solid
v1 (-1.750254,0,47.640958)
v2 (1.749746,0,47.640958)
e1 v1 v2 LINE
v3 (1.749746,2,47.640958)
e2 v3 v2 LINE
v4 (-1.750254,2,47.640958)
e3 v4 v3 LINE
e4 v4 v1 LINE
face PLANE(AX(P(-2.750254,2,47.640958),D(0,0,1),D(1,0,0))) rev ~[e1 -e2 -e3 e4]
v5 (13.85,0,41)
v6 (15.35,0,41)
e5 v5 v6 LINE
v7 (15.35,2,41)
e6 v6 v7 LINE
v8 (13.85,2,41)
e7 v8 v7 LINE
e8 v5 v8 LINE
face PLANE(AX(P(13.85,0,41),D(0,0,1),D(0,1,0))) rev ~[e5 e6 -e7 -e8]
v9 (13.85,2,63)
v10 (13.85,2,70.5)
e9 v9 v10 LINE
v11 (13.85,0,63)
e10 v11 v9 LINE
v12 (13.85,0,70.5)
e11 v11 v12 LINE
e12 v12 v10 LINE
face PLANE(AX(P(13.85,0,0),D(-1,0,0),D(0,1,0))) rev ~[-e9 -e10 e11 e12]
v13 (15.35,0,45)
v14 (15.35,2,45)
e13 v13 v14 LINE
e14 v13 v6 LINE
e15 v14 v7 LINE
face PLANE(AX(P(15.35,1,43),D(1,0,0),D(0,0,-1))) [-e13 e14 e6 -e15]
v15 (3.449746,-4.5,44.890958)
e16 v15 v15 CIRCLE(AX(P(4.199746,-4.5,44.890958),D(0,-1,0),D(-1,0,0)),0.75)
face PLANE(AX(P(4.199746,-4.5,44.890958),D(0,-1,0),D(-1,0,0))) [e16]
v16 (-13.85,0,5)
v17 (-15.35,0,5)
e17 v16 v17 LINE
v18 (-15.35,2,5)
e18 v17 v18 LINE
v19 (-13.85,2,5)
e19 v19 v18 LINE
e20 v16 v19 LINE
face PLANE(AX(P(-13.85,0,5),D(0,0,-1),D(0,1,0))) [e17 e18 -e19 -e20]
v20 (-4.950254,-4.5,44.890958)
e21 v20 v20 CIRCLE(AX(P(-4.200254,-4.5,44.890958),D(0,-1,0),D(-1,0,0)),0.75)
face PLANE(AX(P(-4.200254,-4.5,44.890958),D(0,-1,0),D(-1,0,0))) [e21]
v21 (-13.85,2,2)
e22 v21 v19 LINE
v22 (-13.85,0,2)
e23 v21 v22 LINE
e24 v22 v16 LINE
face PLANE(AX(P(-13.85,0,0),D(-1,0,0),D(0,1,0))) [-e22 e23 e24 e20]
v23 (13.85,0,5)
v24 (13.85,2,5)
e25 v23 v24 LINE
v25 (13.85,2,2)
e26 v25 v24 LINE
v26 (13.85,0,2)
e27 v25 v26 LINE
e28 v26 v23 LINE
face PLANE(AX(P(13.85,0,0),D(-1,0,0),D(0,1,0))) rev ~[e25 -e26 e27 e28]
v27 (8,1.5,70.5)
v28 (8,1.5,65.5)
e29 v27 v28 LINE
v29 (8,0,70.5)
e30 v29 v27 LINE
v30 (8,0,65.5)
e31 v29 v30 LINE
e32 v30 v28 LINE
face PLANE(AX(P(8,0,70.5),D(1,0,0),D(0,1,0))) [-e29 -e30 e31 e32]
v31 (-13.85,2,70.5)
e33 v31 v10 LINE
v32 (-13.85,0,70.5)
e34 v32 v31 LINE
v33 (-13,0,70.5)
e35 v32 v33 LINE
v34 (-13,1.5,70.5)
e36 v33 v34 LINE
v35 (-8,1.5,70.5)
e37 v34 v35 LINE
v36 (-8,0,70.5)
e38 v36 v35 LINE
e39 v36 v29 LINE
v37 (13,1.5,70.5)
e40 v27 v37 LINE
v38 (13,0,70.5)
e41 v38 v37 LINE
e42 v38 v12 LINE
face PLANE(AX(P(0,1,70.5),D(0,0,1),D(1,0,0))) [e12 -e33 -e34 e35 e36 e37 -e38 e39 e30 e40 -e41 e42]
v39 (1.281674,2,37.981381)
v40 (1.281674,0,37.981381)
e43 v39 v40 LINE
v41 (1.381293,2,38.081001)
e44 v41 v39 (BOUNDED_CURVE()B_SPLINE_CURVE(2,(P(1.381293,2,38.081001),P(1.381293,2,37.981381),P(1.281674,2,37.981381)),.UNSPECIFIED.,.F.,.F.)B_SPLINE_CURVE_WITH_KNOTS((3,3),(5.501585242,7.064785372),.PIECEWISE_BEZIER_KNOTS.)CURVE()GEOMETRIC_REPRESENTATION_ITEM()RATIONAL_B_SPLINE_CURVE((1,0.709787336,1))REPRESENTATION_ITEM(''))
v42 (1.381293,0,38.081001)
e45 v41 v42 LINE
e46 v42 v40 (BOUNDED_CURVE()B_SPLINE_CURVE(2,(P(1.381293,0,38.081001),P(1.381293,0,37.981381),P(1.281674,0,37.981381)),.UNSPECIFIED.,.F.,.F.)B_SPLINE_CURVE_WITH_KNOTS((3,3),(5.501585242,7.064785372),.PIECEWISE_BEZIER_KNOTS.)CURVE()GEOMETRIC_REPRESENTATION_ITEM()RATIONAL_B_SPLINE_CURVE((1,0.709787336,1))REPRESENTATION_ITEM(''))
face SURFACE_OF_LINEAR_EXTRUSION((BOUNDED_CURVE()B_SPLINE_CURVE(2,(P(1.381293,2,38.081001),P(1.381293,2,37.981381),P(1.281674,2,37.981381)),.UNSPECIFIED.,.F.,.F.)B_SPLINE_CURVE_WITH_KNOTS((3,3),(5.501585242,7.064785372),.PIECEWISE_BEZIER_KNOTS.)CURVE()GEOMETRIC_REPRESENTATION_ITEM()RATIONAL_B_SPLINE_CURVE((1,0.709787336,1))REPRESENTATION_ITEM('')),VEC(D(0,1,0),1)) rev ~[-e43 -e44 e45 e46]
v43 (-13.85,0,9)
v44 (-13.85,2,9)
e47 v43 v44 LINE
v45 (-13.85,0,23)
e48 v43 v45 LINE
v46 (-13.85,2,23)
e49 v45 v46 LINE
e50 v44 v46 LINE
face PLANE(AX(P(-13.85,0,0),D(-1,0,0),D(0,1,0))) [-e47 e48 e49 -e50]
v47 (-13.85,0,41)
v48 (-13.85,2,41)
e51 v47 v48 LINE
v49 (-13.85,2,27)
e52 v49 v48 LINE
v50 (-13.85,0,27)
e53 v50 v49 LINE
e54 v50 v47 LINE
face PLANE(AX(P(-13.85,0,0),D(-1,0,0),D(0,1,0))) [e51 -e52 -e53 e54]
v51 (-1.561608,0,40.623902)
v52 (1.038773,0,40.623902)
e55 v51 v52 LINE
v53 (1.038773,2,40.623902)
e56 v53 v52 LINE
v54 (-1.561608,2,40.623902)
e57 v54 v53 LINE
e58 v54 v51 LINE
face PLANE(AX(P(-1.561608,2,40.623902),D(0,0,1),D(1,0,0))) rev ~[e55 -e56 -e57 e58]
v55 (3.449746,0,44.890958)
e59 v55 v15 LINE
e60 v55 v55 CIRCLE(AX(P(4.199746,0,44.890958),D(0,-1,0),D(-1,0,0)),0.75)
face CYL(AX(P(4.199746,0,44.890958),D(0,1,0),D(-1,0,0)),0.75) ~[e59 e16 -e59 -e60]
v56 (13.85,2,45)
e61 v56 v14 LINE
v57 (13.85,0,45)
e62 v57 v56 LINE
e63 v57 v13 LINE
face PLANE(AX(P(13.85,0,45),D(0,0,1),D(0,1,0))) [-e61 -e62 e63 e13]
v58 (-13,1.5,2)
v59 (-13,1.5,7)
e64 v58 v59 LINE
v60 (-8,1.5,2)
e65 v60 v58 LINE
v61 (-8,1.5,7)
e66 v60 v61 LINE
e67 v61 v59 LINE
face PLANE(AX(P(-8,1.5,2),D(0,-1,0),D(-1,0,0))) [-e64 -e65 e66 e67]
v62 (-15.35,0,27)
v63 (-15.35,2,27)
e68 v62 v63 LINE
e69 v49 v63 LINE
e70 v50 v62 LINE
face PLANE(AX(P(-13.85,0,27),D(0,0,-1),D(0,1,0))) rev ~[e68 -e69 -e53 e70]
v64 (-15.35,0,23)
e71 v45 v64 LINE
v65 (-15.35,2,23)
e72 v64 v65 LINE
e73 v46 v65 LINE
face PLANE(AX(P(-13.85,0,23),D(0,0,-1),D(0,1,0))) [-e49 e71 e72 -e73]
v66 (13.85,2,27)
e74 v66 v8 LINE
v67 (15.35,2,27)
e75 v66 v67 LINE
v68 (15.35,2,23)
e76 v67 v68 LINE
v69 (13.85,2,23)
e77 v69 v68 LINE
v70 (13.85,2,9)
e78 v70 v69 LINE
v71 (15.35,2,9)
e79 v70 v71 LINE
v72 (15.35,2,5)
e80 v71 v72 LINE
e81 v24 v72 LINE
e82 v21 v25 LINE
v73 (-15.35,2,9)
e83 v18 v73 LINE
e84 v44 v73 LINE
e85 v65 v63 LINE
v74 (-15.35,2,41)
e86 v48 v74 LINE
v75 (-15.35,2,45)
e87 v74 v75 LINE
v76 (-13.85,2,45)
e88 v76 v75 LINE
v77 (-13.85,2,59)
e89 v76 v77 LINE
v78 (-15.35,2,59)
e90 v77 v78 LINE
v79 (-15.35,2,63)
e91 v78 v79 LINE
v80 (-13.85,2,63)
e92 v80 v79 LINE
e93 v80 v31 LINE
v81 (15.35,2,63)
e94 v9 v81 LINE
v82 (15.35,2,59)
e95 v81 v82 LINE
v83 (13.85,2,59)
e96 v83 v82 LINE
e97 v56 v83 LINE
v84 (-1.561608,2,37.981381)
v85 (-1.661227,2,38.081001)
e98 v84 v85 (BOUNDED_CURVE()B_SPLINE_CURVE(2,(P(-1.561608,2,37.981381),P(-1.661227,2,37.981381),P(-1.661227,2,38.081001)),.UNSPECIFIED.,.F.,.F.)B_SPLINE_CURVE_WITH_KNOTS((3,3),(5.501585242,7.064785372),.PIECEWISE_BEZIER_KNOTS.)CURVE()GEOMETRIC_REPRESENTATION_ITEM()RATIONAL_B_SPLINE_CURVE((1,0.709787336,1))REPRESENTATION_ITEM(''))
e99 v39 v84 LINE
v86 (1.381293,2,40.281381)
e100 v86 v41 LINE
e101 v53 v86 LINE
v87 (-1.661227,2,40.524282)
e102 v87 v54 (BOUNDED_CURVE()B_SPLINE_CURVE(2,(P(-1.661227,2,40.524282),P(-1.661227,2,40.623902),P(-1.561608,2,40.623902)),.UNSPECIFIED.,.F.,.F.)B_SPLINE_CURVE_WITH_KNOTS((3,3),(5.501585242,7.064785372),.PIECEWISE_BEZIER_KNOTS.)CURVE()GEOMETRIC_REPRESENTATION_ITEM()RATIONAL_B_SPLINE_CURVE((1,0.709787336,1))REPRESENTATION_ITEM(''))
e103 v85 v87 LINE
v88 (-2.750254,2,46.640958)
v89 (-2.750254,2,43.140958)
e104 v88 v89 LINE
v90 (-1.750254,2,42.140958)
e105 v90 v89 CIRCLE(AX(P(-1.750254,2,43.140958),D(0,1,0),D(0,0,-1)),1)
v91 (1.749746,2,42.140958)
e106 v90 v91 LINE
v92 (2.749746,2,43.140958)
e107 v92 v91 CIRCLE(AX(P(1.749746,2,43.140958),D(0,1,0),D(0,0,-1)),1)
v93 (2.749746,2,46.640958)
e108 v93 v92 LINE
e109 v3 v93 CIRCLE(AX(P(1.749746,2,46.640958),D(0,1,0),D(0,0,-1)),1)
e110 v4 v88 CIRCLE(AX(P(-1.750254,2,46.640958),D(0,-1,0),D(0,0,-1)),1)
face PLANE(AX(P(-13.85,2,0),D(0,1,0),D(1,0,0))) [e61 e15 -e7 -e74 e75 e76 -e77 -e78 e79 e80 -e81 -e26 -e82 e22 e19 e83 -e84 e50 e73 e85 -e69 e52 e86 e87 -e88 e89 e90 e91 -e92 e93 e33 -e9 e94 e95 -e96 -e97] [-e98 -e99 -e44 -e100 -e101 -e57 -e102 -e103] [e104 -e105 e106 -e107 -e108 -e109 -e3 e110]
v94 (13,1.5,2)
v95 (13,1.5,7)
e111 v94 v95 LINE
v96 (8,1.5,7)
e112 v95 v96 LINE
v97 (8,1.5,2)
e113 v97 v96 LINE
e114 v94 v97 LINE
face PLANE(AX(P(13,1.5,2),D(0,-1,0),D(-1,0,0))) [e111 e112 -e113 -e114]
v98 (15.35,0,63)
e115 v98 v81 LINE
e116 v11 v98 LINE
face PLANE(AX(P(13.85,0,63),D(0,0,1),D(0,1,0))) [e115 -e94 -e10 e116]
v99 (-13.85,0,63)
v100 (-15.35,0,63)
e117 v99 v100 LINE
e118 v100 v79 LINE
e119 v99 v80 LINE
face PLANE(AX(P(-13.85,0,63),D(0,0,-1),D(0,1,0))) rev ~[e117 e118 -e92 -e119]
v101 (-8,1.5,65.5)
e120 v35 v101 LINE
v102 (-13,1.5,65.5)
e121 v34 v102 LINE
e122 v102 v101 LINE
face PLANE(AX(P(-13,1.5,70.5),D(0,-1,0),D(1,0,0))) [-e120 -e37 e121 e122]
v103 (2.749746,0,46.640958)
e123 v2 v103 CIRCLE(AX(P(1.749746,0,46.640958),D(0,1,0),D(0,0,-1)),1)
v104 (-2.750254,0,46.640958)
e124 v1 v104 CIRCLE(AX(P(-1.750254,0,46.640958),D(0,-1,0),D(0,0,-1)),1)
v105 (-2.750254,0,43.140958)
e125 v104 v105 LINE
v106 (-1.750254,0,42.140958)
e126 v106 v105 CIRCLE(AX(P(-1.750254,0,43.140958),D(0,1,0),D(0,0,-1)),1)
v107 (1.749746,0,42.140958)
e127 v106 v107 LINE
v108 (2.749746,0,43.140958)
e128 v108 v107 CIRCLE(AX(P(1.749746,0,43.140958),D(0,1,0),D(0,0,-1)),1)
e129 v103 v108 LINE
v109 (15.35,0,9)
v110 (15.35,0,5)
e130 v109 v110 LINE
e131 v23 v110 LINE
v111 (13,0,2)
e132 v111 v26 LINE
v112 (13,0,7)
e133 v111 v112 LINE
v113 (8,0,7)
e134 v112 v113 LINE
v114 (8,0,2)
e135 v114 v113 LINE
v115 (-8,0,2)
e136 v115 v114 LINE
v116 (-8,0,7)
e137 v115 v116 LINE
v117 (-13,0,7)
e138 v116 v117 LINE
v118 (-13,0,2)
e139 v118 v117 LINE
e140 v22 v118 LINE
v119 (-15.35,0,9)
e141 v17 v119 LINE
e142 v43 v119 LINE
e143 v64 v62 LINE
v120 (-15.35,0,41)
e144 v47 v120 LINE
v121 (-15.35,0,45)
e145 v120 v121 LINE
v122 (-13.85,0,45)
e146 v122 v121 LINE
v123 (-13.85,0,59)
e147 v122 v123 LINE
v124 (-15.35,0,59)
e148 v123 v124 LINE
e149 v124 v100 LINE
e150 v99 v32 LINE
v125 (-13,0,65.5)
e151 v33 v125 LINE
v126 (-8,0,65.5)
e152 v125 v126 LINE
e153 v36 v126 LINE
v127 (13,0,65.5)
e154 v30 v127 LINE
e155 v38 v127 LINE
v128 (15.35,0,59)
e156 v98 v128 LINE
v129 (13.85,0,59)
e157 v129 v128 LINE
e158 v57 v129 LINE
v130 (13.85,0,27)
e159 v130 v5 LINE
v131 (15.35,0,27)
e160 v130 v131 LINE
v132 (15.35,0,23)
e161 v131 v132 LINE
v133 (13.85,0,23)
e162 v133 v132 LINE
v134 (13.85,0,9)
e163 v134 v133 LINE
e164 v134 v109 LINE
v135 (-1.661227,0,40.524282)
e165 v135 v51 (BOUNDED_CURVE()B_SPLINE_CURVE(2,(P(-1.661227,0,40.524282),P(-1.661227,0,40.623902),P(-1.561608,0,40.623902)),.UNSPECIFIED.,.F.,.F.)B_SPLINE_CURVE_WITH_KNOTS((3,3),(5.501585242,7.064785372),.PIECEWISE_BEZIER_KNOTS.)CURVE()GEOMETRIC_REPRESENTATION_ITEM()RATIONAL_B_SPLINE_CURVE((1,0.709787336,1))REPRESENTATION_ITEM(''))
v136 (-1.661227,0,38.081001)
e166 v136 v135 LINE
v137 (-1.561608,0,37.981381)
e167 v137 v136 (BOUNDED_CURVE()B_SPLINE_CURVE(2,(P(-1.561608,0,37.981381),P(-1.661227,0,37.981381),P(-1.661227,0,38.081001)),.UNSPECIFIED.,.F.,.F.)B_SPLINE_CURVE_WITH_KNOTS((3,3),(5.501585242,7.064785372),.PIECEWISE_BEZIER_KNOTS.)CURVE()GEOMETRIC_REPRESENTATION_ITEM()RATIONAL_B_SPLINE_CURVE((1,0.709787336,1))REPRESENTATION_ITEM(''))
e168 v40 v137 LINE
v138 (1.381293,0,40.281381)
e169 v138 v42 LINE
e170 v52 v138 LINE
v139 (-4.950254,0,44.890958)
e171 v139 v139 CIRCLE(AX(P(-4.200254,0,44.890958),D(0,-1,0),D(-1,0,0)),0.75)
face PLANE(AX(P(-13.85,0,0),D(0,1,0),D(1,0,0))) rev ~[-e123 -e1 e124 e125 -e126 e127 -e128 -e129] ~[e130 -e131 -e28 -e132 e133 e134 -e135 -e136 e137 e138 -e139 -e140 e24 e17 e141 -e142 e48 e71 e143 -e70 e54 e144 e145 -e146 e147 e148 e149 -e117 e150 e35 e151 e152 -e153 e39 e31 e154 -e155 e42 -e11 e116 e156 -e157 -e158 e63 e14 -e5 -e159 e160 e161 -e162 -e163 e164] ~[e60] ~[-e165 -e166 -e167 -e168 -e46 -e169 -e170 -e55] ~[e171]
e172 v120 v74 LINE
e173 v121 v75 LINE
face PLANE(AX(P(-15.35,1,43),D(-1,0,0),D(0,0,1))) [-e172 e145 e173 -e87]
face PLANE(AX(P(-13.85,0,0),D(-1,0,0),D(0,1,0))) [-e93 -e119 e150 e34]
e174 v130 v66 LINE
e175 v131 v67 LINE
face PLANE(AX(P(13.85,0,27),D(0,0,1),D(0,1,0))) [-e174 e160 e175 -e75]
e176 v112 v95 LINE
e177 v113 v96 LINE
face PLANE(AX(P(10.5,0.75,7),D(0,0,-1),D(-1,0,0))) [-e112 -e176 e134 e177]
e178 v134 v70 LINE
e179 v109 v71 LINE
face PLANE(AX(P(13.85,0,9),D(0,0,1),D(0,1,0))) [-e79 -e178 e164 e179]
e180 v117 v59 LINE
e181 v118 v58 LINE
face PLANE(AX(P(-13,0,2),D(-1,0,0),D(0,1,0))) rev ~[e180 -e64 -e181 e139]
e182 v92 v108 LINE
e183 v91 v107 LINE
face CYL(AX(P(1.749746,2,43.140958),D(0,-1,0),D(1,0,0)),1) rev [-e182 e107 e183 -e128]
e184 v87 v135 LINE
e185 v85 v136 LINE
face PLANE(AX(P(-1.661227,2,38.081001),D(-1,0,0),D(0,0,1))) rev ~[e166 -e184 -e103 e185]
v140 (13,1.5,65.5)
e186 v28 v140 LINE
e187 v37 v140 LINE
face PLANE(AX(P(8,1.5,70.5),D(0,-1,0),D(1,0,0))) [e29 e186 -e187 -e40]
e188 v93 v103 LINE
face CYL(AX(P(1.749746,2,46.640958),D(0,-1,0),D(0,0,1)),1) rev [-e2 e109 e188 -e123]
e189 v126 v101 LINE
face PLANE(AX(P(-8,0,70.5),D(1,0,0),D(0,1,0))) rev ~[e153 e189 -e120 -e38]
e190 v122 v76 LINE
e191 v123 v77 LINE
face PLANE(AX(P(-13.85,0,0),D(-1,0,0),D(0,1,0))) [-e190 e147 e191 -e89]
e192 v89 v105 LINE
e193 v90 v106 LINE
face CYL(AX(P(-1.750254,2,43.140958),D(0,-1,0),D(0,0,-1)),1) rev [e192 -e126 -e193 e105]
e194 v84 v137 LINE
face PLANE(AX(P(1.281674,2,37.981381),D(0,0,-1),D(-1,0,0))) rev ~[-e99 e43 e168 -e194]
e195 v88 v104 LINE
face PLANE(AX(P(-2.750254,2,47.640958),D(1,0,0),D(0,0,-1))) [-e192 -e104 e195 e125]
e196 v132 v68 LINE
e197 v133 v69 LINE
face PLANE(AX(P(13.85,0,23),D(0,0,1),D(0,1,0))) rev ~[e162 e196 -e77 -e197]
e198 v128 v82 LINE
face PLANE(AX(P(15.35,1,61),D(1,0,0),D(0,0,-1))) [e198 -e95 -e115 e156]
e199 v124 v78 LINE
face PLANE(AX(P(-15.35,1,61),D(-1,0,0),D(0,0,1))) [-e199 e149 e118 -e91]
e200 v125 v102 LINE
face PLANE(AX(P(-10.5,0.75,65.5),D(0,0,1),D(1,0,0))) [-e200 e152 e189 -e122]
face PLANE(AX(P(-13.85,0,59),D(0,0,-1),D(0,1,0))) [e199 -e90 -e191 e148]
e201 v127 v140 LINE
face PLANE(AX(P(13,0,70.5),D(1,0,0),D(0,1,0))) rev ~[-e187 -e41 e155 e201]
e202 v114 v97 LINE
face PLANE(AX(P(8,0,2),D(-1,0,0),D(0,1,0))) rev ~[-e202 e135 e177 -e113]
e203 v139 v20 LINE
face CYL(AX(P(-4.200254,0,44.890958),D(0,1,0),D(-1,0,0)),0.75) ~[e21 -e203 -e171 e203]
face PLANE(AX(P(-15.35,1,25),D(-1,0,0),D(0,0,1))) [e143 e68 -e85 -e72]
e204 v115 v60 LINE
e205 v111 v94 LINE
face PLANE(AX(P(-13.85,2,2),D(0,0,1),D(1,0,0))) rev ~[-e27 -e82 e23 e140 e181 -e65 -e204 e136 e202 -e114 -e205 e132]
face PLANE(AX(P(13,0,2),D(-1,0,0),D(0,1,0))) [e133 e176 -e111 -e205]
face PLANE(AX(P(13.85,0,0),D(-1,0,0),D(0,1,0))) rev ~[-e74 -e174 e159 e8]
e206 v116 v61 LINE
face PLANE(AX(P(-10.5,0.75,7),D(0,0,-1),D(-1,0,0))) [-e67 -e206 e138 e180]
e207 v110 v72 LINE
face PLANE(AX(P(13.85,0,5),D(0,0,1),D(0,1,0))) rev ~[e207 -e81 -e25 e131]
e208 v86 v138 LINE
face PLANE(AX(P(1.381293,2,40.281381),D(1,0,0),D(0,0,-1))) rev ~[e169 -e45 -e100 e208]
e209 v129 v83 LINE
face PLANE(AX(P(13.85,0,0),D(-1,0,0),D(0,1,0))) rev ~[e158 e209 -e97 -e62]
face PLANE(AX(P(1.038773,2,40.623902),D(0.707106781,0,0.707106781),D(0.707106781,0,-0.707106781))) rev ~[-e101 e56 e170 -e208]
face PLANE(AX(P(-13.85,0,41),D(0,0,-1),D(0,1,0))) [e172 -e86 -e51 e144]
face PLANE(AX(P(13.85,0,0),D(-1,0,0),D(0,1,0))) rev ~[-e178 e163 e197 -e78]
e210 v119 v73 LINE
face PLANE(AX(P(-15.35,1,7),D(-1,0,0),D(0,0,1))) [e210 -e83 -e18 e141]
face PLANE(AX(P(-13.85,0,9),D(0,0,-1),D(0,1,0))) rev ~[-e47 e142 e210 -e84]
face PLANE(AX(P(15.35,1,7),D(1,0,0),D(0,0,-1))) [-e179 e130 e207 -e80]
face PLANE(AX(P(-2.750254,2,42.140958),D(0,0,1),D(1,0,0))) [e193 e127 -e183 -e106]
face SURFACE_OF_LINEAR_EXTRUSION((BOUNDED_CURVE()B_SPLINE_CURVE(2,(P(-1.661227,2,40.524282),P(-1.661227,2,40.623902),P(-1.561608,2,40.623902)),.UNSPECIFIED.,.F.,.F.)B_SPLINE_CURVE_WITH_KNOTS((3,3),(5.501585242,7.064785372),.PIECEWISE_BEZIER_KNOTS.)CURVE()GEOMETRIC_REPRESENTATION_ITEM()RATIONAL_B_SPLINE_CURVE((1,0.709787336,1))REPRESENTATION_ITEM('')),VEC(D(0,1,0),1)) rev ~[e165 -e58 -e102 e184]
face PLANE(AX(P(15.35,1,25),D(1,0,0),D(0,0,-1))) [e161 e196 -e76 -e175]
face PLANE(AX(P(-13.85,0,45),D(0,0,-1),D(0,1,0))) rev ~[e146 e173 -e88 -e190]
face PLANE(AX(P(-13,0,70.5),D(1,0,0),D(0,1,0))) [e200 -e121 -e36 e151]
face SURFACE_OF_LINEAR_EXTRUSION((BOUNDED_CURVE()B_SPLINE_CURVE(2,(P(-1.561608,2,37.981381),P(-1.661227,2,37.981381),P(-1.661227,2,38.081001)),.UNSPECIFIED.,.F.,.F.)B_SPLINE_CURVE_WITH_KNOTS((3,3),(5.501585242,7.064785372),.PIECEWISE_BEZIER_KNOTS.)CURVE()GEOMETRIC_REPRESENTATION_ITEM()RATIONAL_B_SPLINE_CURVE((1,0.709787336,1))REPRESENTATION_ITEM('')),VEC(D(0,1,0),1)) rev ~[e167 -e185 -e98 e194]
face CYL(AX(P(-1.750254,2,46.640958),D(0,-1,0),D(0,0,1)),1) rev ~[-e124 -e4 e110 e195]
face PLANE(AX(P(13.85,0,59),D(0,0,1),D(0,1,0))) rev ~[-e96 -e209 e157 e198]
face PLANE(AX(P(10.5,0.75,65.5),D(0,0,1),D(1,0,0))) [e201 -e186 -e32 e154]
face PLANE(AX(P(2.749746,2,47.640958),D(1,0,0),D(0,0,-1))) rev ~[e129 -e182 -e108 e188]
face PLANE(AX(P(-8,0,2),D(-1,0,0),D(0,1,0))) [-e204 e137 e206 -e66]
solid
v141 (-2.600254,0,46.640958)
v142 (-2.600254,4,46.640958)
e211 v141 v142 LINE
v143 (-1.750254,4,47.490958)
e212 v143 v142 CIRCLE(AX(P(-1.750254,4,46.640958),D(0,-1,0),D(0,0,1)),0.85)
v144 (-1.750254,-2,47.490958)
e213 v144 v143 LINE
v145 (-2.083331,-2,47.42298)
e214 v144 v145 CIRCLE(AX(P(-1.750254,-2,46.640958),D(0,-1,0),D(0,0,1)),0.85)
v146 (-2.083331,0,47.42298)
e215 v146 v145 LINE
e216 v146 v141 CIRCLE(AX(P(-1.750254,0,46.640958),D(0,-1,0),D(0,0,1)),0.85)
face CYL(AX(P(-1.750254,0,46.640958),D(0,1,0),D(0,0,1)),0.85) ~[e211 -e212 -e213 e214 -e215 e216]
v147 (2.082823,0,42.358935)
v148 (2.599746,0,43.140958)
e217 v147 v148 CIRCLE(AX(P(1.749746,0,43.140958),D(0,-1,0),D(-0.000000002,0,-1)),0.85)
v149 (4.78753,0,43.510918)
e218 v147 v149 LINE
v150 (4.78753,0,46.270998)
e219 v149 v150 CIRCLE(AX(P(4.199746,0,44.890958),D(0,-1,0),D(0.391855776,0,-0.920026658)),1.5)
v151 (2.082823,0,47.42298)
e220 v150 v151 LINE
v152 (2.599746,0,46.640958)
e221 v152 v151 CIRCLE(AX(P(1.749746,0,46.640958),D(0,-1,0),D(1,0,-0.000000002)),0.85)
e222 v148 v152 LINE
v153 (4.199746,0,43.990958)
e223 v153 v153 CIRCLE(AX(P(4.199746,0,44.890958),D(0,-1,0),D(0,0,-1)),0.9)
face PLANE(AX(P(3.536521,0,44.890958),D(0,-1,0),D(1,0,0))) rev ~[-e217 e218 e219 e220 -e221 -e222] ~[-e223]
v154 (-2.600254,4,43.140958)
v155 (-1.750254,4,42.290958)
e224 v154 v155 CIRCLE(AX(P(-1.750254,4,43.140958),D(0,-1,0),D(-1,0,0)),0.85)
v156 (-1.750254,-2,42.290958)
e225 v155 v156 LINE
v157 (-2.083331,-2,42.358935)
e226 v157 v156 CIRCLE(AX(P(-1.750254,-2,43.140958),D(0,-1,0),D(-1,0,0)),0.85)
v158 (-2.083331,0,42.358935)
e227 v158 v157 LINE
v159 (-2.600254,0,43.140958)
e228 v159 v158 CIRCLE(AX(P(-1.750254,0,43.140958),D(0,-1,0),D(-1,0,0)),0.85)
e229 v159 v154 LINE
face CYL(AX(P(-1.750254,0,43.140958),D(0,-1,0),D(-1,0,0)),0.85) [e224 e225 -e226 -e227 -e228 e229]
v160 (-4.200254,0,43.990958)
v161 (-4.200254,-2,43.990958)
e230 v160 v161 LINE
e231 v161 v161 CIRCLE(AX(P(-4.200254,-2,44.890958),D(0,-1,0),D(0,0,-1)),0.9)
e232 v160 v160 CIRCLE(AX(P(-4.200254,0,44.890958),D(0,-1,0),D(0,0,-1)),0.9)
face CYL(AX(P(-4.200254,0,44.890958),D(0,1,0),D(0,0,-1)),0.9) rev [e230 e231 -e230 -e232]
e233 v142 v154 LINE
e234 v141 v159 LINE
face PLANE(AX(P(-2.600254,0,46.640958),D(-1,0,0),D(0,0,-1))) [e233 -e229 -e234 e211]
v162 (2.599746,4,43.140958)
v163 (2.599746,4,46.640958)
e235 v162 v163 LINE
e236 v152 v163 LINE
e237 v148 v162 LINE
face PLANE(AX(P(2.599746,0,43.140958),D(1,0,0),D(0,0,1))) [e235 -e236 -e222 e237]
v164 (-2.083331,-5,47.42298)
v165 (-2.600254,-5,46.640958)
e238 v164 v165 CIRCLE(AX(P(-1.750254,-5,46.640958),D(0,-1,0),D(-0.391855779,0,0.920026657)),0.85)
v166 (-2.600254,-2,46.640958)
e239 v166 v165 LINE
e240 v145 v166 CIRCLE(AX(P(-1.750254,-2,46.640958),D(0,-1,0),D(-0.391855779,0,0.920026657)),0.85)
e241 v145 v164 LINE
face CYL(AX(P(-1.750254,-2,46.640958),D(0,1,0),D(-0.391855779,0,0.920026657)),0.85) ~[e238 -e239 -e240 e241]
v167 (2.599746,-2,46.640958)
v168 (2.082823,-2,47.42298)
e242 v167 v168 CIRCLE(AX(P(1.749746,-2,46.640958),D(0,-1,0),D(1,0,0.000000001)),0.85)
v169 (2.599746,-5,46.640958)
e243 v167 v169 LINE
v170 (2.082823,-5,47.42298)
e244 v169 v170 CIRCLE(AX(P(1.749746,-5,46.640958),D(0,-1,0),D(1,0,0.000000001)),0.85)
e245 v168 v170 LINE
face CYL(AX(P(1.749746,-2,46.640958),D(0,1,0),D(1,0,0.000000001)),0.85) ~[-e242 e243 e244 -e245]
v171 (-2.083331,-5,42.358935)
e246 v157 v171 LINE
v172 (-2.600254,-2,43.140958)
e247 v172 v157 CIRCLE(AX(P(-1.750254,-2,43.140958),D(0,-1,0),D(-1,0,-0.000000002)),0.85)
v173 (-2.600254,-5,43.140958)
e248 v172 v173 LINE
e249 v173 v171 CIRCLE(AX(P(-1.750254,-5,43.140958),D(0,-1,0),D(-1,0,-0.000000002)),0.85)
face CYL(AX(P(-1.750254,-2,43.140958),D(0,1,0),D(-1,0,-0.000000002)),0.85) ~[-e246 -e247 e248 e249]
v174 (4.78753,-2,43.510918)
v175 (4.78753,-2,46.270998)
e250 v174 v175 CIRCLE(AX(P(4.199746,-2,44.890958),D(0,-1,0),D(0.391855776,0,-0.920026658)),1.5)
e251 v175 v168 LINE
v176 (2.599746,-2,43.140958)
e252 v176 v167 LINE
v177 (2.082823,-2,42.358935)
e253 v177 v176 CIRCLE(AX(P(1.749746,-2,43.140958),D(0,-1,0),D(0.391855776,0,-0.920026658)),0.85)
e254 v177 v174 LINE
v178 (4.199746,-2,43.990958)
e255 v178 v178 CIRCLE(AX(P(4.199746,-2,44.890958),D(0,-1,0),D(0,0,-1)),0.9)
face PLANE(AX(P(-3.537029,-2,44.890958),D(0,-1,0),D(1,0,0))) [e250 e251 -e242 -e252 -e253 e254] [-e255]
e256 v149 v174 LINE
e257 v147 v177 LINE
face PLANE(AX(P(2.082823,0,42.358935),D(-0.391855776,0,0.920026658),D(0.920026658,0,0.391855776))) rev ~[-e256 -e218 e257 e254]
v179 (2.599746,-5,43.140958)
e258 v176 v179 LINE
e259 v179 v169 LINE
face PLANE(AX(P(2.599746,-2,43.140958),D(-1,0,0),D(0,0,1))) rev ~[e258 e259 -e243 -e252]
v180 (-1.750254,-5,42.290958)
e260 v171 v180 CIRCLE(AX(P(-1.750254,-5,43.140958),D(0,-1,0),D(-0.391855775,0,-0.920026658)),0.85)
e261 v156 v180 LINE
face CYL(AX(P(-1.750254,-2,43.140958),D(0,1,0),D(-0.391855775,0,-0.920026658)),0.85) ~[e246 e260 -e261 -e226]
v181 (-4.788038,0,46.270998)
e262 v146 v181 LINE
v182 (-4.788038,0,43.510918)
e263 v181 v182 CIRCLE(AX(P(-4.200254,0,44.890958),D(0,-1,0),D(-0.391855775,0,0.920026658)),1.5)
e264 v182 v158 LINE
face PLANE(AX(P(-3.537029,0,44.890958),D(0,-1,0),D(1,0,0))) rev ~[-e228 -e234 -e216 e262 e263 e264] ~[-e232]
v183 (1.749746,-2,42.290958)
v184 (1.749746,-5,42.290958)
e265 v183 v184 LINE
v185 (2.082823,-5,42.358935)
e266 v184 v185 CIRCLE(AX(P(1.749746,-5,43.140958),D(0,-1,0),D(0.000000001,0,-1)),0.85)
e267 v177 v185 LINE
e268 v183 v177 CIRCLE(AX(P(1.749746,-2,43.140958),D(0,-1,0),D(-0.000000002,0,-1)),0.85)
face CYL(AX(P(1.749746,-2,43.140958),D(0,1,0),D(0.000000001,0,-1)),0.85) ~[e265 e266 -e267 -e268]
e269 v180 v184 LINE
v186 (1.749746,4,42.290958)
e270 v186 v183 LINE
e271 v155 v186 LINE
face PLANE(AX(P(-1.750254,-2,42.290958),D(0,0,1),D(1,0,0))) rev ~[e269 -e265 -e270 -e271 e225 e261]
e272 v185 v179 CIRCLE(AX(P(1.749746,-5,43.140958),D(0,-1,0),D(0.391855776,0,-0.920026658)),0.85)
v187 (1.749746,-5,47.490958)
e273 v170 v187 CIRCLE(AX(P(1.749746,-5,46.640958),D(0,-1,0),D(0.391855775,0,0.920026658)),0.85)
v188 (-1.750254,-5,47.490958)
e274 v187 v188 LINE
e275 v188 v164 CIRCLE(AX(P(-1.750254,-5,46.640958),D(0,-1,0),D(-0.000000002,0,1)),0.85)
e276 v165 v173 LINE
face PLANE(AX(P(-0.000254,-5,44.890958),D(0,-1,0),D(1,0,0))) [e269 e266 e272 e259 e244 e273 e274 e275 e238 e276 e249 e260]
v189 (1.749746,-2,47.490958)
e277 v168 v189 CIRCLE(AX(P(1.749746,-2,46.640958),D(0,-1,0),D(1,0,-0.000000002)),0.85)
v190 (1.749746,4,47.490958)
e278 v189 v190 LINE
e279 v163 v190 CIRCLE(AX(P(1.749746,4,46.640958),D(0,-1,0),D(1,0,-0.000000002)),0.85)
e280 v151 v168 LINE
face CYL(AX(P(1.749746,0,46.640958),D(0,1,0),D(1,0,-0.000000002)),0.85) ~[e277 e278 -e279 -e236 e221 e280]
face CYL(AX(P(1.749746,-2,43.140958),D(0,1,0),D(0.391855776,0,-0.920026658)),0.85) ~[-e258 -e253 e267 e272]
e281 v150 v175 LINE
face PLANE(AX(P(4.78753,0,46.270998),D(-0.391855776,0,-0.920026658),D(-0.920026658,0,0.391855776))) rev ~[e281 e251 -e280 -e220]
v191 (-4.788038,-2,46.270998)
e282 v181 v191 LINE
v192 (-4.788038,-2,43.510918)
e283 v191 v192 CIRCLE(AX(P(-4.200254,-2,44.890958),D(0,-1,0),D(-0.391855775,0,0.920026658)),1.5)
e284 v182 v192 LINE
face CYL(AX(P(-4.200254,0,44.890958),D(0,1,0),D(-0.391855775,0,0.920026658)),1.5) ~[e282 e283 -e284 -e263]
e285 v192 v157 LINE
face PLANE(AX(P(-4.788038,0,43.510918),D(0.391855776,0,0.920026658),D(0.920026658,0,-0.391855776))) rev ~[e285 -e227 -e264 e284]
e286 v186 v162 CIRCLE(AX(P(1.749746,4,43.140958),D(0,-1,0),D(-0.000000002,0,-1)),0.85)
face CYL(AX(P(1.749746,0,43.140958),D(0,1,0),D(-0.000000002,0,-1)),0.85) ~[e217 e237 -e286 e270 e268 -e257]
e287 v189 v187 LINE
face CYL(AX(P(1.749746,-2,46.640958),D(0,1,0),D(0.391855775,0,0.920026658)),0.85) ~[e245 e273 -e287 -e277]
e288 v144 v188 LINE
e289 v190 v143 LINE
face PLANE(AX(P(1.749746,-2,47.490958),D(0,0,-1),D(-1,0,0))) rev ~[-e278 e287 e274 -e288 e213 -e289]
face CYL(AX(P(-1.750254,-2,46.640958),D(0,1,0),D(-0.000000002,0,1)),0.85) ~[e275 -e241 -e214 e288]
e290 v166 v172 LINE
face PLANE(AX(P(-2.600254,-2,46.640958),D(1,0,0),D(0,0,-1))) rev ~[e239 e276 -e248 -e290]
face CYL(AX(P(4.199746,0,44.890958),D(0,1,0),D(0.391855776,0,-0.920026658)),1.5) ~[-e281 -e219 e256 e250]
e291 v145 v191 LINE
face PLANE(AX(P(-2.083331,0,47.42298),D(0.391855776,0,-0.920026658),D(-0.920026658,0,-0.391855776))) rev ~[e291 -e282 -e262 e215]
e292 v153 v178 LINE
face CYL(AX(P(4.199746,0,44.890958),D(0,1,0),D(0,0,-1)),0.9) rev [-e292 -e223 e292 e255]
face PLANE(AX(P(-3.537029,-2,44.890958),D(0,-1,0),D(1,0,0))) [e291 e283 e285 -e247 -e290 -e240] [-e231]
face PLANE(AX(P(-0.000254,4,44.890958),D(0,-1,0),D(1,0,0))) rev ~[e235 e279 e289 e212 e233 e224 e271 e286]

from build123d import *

# Parameters (mm, degrees)
SKETCH_1_W          = 27.7
SKETCH_1_H          = 2
EXTRUDE_1_DEPTH     = 70.5
SKETCH_16_W         = 5
SKETCH_16_H         = 1.5
CUT_EXTRUDE_6_DEPTH = 5
SKETCH_4_W          = 5.5
SKETCH_4_H          = 5.5
CUT_EXTRUDE_2_DEPTH = 72.875395651
FILLET_1_R          = 1
EXTRUDE_3_DEPTH     = 4
SKETCH_6_R          = 0.9
EXTRUDE_4_DEPTH     = 2
SKETCH_7_R          = 0.75
EXTRUDE_5_DEPTH     = 4.5
EXTRUDE_START       = 2
EXTRUDE_6_DEPTH     = 3
CUT_EXTRUDE_7_DEPTH = 2
SKETCH_18_W         = 27.7
SKETCH_18_H         = 2
CUT_EXTRUDE_8_DEPTH = 73.187758774
SKETCH_19_W         = 4
SKETCH_19_H         = 2
EXTRUDE_7_DEPTH     = 1.5
SKETCH_20_W         = 4
SKETCH_20_H         = 2
EXTRUDE_9_DEPTH     = 1.5
SKETCH_21_W         = 5
SKETCH_21_H         = 1.5
CUT_EXTRUDE_9_DEPTH = 5


with BuildPart() as part:
    # 草图1 → 凸台-拉伸1 (new body)
    with BuildSketch(Plane.XY):
        with Locations((0, 1)):
            Rectangle(SKETCH_1_W, SKETCH_1_H)
    extrude(amount=EXTRUDE_1_DEPTH)

    # 草图16 → 切除-拉伸6 (cut)
    with BuildSketch(Plane.XY.offset(70.5)):
        with Locations((-10.5, 0.75)):
            Rectangle(SKETCH_16_W, SKETCH_16_H)
        with Locations((10.5, 0.75)):
            Rectangle(SKETCH_16_W, SKETCH_16_H)
    extrude(amount=-CUT_EXTRUDE_6_DEPTH, mode=Mode.SUBTRACT)

    # 草图4 → 切除-拉伸2 (cut, through all)
    with BuildSketch(Plane(origin=(0, 2, 0), x_dir=(1, 0, 0), z_dir=(0, 1, 0))):
        with Locations((-0.000254001, -44.890957582)):
            Rectangle(SKETCH_4_W, SKETCH_4_H)
    extrude(amount=-CUT_EXTRUDE_2_DEPTH, mode=Mode.SUBTRACT)

    # 圆角1
    fillet_1_edges = [part.edges().sort_by_distance(p)[0] for p in [
        (2.749745999, 1, 42.140957582),
        (2.749745999, 1, 47.640957582),
        (-2.750254001, 1, 47.640957582),
        (-2.750254001, 1, 42.140957582),
    ]]
    fillet(fillet_1_edges, radius=FILLET_1_R)

    # 草图7 → 凸台-拉伸5 (add)
    with BuildSketch(Plane.XZ):
        with Locations(Location((4.199745999, 44.890957582, 0), (0, 0, 180))):
            Circle(SKETCH_7_R)
        with Locations(Location((-4.200254001, 44.890957582, 0), (0, 0, 180))):
            Circle(SKETCH_7_R)
    extrude(amount=EXTRUDE_5_DEPTH)

    # 草图17 → 切除-拉伸7 (cut)
    with BuildSketch(Plane(origin=(0, 2, 0), x_dir=(1, 0, 0), z_dir=(0, 1, 0))):
        with BuildLine():
            Line((1.381293223, -40.281381402), (1.381293223, -38.081000872))
            add(Edge.make_bspline(
                [(1.381293223, -38.081000872), (1.381293223, -37.981381402), (1.281673753, -37.981381402)],
                knots=[5.501585242, 5.501585242, 5.501585242, 7.064785372, 7.064785372, 7.064785372], degree=2, weights=[1, 0.709787336, 1]))
            Line((1.281673753, -37.981381402), (-1.561607713, -37.981381402))
            add(Edge.make_bspline(
                [(-1.561607713, -37.981381402), (-1.661227183, -37.981381402), (-1.661227183, -38.081000872)],
                knots=[5.501585242, 5.501585242, 5.501585242, 7.064785372, 7.064785372, 7.064785372], degree=2, weights=[1, 0.709787336, 1]))
            Line((-1.661227183, -38.081000872), (-1.661227183, -40.524282338))
            add(Edge.make_bspline(
                [(-1.661227183, -40.524282338), (-1.661227183, -40.623901808), (-1.561607713, -40.623901808)],
                knots=[5.501585242, 5.501585242, 5.501585242, 7.064785372, 7.064785372, 7.064785372], degree=2, weights=[1, 0.709787336, 1]))
            Line((-1.561607713, -40.623901808), (1.038772817, -40.623901808))
            Line((1.038772817, -40.623901808), (1.381293223, -40.281381402))
        make_face()
    extrude(amount=-CUT_EXTRUDE_7_DEPTH, mode=Mode.SUBTRACT)

    # 草图18 → 切除-拉伸8 (cut, through all)
    with BuildSketch(Plane(origin=(0, 2, 0), x_dir=(1, 0, 0), z_dir=(0, 1, 0))):
        with Locations((0, -1)):
            Rectangle(SKETCH_18_W, SKETCH_18_H)
    extrude(amount=-CUT_EXTRUDE_8_DEPTH, mode=Mode.SUBTRACT)

    # 草图19 → 凸台-拉伸7 (add)
    with BuildSketch(Plane.ZY.offset(13.85)):
        with Locations((7, 1)):
            Rectangle(SKETCH_19_W, SKETCH_19_H)
        with Locations((43, 1)):
            Rectangle(SKETCH_19_W, SKETCH_19_H)
        with Locations((25, 1)):
            Rectangle(SKETCH_19_W, SKETCH_19_H)
        with Locations((61, 1)):
            Rectangle(SKETCH_19_W, SKETCH_19_H)
    extrude(amount=EXTRUDE_7_DEPTH)

    # 草图20 → 凸台-拉伸9 (add)
    with BuildSketch(Plane(origin=(13.85, 0, 0), x_dir=(0, 0, -1), z_dir=(1, 0, 0))):
        with Locations((-61, 1)):
            Rectangle(SKETCH_20_W, SKETCH_20_H)
        with Locations((-43, 1)):
            Rectangle(SKETCH_20_W, SKETCH_20_H)
        with Locations((-25, 1)):
            Rectangle(SKETCH_20_W, SKETCH_20_H)
        with Locations((-7, 1)):
            Rectangle(SKETCH_20_W, SKETCH_20_H)
    extrude(amount=EXTRUDE_9_DEPTH)

    # 草图21 → 切除-拉伸9 (cut)
    with BuildSketch(Plane(origin=(0, 0, 2), x_dir=(-1, 0, 0), z_dir=(0, 0, -1))):
        with Locations((-10.5, 0.75)):
            Rectangle(SKETCH_21_W, SKETCH_21_H)
        with Locations((10.5, 0.75)):
            Rectangle(SKETCH_21_W, SKETCH_21_H)
    extrude(amount=-CUT_EXTRUDE_9_DEPTH, mode=Mode.SUBTRACT)


with BuildPart() as body_2:
    # 草图5 → 凸台-拉伸3 (new body)
    with BuildSketch(Plane.XZ):
        with BuildLine():
            Line((-2.600254001, 46.640957582), (-2.600254001, 43.140957582))
            ThreePointArc((-2.600254001, 43.140957582), (-2.351294765, 42.539916818), (-1.750254001, 42.290957582))
            Line((-1.750254001, 42.290957582), (1.749745999, 42.290957582))
            ThreePointArc((1.749745999, 42.290957582), (2.350786764, 42.539916818), (2.599745999, 43.140957582))
            Line((2.599745999, 43.140957582), (2.599745999, 46.640957582))
            ThreePointArc((2.599745999, 46.640957582), (2.350786764, 47.241998346), (1.749745999, 47.490957582))
            Line((1.749745999, 47.490957582), (-1.750254001, 47.490957582))
            ThreePointArc((-1.750254001, 47.490957582), (-2.351294765, 47.241998346), (-2.600254001, 46.640957582))
        make_face()
    extrude(amount=-EXTRUDE_3_DEPTH)

    # 草图6 → 凸台-拉伸4 (add)
    # profile 1 of 3: a face of its own
    with BuildSketch(Plane.XZ):
        with BuildLine():
            ThreePointArc((-2.600254001, 46.640957582), (-2.459343486, 47.109670821), (-2.08333141, 47.422980241))
            Line((-2.08333141, 47.422980241), (-4.788037664, 46.270997568))
            ThreePointArc((-4.788037664, 46.270997568), (-5.700254001, 44.890957582), (-4.788037664, 43.510917595))
            Line((-4.788037664, 43.510917595), (-2.08333141, 42.358934923))
            ThreePointArc((-2.08333141, 42.358934923), (-2.459343486, 42.672244342), (-2.600254001, 43.140957582))
            Line((-2.600254001, 43.140957582), (-2.600254001, 46.640957582))
        make_face()
        with Locations(Location((-4.200254001, 44.890957582, 0), (0, 0, 270))):
            Circle(SKETCH_6_R, mode=Mode.SUBTRACT)
    # profile 2 of 3: a face of its own
    with BuildSketch(Plane.XZ):
        with BuildLine():
            Line((1.749745999, 47.490957582), (-1.750254001, 47.490957582))
            ThreePointArc((-1.750254001, 47.490957582), (-2.351294765, 47.241998346), (-2.600254001, 46.640957582))
            Line((-2.600254001, 46.640957582), (-2.600254001, 43.140957582))
            ThreePointArc((-2.600254001, 43.140957582), (-2.351294765, 42.539916818), (-1.750254001, 42.290957582))
            Line((-1.750254001, 42.290957582), (1.749745999, 42.290957582))
            ThreePointArc((1.749745999, 42.290957582), (2.350786764, 42.539916818), (2.599745999, 43.140957582))
            Line((2.599745999, 43.140957582), (2.599745999, 46.640957582))
            ThreePointArc((2.599745999, 46.640957582), (2.350786764, 47.241998346), (1.749745999, 47.490957582))
        make_face()
    # profile 3 of 3: a face of its own
    with BuildSketch(Plane.XZ):
        with BuildLine():
            Line((4.787529663, 46.270997568), (2.082823409, 47.422980241))
            ThreePointArc((2.082823409, 47.422980241), (2.458835485, 47.109670821), (2.599745999, 46.640957582))
            Line((2.599745999, 46.640957582), (2.599745999, 43.140957582))
            ThreePointArc((2.599745999, 43.140957582), (2.458835485, 42.672244342), (2.082823409, 42.358934923))
            Line((2.082823409, 42.358934923), (4.787529663, 43.510917595))
            ThreePointArc((4.787529663, 43.510917595), (5.699745999, 44.890957582), (4.787529663, 46.270997568))
        make_face()
        with Locations(Location((4.199745999, 44.890957582, 0), (0, 0, 270))):
            Circle(SKETCH_6_R, mode=Mode.SUBTRACT)
    extrude(amount=EXTRUDE_4_DEPTH)

    # 草图6<3> → 凸台-拉伸6 (add)
    with BuildSketch(Plane.XZ.offset(EXTRUDE_START)):
        with BuildLine():
            ThreePointArc((-1.750254001, 47.490957582), (-1.920225674, 47.473789876), (-2.08333141, 47.422980241))
            ThreePointArc((-2.08333141, 47.422980241), (-2.459343486, 47.109670821), (-2.600254001, 46.640957582))
            Line((-2.600254001, 46.640957582), (-2.600254001, 43.140957582))
            ThreePointArc((-2.600254001, 43.140957582), (-2.459343486, 42.672244342), (-2.08333141, 42.358934923))
            ThreePointArc((-2.08333141, 42.358934923), (-1.920225674, 42.308125288), (-1.750254001, 42.290957582))
            Line((-1.750254001, 42.290957582), (1.749745999, 42.290957582))
            ThreePointArc((1.749745999, 42.290957582), (1.919717673, 42.308125288), (2.082823409, 42.358934923))
            ThreePointArc((2.082823409, 42.358934923), (2.458835485, 42.672244342), (2.599745999, 43.140957582))
            Line((2.599745999, 43.140957582), (2.599745999, 46.640957582))
            ThreePointArc((2.599745999, 46.640957582), (2.458835485, 47.109670821), (2.082823409, 47.422980241))
            ThreePointArc((2.082823409, 47.422980241), (1.919717673, 47.473789876), (1.749745999, 47.490957582))
            Line((1.749745999, 47.490957582), (-1.750254001, 47.490957582))
        make_face()
    extrude(amount=EXTRUDE_6_DEPTH)


solid = Compound([part.part, body_2.part])
